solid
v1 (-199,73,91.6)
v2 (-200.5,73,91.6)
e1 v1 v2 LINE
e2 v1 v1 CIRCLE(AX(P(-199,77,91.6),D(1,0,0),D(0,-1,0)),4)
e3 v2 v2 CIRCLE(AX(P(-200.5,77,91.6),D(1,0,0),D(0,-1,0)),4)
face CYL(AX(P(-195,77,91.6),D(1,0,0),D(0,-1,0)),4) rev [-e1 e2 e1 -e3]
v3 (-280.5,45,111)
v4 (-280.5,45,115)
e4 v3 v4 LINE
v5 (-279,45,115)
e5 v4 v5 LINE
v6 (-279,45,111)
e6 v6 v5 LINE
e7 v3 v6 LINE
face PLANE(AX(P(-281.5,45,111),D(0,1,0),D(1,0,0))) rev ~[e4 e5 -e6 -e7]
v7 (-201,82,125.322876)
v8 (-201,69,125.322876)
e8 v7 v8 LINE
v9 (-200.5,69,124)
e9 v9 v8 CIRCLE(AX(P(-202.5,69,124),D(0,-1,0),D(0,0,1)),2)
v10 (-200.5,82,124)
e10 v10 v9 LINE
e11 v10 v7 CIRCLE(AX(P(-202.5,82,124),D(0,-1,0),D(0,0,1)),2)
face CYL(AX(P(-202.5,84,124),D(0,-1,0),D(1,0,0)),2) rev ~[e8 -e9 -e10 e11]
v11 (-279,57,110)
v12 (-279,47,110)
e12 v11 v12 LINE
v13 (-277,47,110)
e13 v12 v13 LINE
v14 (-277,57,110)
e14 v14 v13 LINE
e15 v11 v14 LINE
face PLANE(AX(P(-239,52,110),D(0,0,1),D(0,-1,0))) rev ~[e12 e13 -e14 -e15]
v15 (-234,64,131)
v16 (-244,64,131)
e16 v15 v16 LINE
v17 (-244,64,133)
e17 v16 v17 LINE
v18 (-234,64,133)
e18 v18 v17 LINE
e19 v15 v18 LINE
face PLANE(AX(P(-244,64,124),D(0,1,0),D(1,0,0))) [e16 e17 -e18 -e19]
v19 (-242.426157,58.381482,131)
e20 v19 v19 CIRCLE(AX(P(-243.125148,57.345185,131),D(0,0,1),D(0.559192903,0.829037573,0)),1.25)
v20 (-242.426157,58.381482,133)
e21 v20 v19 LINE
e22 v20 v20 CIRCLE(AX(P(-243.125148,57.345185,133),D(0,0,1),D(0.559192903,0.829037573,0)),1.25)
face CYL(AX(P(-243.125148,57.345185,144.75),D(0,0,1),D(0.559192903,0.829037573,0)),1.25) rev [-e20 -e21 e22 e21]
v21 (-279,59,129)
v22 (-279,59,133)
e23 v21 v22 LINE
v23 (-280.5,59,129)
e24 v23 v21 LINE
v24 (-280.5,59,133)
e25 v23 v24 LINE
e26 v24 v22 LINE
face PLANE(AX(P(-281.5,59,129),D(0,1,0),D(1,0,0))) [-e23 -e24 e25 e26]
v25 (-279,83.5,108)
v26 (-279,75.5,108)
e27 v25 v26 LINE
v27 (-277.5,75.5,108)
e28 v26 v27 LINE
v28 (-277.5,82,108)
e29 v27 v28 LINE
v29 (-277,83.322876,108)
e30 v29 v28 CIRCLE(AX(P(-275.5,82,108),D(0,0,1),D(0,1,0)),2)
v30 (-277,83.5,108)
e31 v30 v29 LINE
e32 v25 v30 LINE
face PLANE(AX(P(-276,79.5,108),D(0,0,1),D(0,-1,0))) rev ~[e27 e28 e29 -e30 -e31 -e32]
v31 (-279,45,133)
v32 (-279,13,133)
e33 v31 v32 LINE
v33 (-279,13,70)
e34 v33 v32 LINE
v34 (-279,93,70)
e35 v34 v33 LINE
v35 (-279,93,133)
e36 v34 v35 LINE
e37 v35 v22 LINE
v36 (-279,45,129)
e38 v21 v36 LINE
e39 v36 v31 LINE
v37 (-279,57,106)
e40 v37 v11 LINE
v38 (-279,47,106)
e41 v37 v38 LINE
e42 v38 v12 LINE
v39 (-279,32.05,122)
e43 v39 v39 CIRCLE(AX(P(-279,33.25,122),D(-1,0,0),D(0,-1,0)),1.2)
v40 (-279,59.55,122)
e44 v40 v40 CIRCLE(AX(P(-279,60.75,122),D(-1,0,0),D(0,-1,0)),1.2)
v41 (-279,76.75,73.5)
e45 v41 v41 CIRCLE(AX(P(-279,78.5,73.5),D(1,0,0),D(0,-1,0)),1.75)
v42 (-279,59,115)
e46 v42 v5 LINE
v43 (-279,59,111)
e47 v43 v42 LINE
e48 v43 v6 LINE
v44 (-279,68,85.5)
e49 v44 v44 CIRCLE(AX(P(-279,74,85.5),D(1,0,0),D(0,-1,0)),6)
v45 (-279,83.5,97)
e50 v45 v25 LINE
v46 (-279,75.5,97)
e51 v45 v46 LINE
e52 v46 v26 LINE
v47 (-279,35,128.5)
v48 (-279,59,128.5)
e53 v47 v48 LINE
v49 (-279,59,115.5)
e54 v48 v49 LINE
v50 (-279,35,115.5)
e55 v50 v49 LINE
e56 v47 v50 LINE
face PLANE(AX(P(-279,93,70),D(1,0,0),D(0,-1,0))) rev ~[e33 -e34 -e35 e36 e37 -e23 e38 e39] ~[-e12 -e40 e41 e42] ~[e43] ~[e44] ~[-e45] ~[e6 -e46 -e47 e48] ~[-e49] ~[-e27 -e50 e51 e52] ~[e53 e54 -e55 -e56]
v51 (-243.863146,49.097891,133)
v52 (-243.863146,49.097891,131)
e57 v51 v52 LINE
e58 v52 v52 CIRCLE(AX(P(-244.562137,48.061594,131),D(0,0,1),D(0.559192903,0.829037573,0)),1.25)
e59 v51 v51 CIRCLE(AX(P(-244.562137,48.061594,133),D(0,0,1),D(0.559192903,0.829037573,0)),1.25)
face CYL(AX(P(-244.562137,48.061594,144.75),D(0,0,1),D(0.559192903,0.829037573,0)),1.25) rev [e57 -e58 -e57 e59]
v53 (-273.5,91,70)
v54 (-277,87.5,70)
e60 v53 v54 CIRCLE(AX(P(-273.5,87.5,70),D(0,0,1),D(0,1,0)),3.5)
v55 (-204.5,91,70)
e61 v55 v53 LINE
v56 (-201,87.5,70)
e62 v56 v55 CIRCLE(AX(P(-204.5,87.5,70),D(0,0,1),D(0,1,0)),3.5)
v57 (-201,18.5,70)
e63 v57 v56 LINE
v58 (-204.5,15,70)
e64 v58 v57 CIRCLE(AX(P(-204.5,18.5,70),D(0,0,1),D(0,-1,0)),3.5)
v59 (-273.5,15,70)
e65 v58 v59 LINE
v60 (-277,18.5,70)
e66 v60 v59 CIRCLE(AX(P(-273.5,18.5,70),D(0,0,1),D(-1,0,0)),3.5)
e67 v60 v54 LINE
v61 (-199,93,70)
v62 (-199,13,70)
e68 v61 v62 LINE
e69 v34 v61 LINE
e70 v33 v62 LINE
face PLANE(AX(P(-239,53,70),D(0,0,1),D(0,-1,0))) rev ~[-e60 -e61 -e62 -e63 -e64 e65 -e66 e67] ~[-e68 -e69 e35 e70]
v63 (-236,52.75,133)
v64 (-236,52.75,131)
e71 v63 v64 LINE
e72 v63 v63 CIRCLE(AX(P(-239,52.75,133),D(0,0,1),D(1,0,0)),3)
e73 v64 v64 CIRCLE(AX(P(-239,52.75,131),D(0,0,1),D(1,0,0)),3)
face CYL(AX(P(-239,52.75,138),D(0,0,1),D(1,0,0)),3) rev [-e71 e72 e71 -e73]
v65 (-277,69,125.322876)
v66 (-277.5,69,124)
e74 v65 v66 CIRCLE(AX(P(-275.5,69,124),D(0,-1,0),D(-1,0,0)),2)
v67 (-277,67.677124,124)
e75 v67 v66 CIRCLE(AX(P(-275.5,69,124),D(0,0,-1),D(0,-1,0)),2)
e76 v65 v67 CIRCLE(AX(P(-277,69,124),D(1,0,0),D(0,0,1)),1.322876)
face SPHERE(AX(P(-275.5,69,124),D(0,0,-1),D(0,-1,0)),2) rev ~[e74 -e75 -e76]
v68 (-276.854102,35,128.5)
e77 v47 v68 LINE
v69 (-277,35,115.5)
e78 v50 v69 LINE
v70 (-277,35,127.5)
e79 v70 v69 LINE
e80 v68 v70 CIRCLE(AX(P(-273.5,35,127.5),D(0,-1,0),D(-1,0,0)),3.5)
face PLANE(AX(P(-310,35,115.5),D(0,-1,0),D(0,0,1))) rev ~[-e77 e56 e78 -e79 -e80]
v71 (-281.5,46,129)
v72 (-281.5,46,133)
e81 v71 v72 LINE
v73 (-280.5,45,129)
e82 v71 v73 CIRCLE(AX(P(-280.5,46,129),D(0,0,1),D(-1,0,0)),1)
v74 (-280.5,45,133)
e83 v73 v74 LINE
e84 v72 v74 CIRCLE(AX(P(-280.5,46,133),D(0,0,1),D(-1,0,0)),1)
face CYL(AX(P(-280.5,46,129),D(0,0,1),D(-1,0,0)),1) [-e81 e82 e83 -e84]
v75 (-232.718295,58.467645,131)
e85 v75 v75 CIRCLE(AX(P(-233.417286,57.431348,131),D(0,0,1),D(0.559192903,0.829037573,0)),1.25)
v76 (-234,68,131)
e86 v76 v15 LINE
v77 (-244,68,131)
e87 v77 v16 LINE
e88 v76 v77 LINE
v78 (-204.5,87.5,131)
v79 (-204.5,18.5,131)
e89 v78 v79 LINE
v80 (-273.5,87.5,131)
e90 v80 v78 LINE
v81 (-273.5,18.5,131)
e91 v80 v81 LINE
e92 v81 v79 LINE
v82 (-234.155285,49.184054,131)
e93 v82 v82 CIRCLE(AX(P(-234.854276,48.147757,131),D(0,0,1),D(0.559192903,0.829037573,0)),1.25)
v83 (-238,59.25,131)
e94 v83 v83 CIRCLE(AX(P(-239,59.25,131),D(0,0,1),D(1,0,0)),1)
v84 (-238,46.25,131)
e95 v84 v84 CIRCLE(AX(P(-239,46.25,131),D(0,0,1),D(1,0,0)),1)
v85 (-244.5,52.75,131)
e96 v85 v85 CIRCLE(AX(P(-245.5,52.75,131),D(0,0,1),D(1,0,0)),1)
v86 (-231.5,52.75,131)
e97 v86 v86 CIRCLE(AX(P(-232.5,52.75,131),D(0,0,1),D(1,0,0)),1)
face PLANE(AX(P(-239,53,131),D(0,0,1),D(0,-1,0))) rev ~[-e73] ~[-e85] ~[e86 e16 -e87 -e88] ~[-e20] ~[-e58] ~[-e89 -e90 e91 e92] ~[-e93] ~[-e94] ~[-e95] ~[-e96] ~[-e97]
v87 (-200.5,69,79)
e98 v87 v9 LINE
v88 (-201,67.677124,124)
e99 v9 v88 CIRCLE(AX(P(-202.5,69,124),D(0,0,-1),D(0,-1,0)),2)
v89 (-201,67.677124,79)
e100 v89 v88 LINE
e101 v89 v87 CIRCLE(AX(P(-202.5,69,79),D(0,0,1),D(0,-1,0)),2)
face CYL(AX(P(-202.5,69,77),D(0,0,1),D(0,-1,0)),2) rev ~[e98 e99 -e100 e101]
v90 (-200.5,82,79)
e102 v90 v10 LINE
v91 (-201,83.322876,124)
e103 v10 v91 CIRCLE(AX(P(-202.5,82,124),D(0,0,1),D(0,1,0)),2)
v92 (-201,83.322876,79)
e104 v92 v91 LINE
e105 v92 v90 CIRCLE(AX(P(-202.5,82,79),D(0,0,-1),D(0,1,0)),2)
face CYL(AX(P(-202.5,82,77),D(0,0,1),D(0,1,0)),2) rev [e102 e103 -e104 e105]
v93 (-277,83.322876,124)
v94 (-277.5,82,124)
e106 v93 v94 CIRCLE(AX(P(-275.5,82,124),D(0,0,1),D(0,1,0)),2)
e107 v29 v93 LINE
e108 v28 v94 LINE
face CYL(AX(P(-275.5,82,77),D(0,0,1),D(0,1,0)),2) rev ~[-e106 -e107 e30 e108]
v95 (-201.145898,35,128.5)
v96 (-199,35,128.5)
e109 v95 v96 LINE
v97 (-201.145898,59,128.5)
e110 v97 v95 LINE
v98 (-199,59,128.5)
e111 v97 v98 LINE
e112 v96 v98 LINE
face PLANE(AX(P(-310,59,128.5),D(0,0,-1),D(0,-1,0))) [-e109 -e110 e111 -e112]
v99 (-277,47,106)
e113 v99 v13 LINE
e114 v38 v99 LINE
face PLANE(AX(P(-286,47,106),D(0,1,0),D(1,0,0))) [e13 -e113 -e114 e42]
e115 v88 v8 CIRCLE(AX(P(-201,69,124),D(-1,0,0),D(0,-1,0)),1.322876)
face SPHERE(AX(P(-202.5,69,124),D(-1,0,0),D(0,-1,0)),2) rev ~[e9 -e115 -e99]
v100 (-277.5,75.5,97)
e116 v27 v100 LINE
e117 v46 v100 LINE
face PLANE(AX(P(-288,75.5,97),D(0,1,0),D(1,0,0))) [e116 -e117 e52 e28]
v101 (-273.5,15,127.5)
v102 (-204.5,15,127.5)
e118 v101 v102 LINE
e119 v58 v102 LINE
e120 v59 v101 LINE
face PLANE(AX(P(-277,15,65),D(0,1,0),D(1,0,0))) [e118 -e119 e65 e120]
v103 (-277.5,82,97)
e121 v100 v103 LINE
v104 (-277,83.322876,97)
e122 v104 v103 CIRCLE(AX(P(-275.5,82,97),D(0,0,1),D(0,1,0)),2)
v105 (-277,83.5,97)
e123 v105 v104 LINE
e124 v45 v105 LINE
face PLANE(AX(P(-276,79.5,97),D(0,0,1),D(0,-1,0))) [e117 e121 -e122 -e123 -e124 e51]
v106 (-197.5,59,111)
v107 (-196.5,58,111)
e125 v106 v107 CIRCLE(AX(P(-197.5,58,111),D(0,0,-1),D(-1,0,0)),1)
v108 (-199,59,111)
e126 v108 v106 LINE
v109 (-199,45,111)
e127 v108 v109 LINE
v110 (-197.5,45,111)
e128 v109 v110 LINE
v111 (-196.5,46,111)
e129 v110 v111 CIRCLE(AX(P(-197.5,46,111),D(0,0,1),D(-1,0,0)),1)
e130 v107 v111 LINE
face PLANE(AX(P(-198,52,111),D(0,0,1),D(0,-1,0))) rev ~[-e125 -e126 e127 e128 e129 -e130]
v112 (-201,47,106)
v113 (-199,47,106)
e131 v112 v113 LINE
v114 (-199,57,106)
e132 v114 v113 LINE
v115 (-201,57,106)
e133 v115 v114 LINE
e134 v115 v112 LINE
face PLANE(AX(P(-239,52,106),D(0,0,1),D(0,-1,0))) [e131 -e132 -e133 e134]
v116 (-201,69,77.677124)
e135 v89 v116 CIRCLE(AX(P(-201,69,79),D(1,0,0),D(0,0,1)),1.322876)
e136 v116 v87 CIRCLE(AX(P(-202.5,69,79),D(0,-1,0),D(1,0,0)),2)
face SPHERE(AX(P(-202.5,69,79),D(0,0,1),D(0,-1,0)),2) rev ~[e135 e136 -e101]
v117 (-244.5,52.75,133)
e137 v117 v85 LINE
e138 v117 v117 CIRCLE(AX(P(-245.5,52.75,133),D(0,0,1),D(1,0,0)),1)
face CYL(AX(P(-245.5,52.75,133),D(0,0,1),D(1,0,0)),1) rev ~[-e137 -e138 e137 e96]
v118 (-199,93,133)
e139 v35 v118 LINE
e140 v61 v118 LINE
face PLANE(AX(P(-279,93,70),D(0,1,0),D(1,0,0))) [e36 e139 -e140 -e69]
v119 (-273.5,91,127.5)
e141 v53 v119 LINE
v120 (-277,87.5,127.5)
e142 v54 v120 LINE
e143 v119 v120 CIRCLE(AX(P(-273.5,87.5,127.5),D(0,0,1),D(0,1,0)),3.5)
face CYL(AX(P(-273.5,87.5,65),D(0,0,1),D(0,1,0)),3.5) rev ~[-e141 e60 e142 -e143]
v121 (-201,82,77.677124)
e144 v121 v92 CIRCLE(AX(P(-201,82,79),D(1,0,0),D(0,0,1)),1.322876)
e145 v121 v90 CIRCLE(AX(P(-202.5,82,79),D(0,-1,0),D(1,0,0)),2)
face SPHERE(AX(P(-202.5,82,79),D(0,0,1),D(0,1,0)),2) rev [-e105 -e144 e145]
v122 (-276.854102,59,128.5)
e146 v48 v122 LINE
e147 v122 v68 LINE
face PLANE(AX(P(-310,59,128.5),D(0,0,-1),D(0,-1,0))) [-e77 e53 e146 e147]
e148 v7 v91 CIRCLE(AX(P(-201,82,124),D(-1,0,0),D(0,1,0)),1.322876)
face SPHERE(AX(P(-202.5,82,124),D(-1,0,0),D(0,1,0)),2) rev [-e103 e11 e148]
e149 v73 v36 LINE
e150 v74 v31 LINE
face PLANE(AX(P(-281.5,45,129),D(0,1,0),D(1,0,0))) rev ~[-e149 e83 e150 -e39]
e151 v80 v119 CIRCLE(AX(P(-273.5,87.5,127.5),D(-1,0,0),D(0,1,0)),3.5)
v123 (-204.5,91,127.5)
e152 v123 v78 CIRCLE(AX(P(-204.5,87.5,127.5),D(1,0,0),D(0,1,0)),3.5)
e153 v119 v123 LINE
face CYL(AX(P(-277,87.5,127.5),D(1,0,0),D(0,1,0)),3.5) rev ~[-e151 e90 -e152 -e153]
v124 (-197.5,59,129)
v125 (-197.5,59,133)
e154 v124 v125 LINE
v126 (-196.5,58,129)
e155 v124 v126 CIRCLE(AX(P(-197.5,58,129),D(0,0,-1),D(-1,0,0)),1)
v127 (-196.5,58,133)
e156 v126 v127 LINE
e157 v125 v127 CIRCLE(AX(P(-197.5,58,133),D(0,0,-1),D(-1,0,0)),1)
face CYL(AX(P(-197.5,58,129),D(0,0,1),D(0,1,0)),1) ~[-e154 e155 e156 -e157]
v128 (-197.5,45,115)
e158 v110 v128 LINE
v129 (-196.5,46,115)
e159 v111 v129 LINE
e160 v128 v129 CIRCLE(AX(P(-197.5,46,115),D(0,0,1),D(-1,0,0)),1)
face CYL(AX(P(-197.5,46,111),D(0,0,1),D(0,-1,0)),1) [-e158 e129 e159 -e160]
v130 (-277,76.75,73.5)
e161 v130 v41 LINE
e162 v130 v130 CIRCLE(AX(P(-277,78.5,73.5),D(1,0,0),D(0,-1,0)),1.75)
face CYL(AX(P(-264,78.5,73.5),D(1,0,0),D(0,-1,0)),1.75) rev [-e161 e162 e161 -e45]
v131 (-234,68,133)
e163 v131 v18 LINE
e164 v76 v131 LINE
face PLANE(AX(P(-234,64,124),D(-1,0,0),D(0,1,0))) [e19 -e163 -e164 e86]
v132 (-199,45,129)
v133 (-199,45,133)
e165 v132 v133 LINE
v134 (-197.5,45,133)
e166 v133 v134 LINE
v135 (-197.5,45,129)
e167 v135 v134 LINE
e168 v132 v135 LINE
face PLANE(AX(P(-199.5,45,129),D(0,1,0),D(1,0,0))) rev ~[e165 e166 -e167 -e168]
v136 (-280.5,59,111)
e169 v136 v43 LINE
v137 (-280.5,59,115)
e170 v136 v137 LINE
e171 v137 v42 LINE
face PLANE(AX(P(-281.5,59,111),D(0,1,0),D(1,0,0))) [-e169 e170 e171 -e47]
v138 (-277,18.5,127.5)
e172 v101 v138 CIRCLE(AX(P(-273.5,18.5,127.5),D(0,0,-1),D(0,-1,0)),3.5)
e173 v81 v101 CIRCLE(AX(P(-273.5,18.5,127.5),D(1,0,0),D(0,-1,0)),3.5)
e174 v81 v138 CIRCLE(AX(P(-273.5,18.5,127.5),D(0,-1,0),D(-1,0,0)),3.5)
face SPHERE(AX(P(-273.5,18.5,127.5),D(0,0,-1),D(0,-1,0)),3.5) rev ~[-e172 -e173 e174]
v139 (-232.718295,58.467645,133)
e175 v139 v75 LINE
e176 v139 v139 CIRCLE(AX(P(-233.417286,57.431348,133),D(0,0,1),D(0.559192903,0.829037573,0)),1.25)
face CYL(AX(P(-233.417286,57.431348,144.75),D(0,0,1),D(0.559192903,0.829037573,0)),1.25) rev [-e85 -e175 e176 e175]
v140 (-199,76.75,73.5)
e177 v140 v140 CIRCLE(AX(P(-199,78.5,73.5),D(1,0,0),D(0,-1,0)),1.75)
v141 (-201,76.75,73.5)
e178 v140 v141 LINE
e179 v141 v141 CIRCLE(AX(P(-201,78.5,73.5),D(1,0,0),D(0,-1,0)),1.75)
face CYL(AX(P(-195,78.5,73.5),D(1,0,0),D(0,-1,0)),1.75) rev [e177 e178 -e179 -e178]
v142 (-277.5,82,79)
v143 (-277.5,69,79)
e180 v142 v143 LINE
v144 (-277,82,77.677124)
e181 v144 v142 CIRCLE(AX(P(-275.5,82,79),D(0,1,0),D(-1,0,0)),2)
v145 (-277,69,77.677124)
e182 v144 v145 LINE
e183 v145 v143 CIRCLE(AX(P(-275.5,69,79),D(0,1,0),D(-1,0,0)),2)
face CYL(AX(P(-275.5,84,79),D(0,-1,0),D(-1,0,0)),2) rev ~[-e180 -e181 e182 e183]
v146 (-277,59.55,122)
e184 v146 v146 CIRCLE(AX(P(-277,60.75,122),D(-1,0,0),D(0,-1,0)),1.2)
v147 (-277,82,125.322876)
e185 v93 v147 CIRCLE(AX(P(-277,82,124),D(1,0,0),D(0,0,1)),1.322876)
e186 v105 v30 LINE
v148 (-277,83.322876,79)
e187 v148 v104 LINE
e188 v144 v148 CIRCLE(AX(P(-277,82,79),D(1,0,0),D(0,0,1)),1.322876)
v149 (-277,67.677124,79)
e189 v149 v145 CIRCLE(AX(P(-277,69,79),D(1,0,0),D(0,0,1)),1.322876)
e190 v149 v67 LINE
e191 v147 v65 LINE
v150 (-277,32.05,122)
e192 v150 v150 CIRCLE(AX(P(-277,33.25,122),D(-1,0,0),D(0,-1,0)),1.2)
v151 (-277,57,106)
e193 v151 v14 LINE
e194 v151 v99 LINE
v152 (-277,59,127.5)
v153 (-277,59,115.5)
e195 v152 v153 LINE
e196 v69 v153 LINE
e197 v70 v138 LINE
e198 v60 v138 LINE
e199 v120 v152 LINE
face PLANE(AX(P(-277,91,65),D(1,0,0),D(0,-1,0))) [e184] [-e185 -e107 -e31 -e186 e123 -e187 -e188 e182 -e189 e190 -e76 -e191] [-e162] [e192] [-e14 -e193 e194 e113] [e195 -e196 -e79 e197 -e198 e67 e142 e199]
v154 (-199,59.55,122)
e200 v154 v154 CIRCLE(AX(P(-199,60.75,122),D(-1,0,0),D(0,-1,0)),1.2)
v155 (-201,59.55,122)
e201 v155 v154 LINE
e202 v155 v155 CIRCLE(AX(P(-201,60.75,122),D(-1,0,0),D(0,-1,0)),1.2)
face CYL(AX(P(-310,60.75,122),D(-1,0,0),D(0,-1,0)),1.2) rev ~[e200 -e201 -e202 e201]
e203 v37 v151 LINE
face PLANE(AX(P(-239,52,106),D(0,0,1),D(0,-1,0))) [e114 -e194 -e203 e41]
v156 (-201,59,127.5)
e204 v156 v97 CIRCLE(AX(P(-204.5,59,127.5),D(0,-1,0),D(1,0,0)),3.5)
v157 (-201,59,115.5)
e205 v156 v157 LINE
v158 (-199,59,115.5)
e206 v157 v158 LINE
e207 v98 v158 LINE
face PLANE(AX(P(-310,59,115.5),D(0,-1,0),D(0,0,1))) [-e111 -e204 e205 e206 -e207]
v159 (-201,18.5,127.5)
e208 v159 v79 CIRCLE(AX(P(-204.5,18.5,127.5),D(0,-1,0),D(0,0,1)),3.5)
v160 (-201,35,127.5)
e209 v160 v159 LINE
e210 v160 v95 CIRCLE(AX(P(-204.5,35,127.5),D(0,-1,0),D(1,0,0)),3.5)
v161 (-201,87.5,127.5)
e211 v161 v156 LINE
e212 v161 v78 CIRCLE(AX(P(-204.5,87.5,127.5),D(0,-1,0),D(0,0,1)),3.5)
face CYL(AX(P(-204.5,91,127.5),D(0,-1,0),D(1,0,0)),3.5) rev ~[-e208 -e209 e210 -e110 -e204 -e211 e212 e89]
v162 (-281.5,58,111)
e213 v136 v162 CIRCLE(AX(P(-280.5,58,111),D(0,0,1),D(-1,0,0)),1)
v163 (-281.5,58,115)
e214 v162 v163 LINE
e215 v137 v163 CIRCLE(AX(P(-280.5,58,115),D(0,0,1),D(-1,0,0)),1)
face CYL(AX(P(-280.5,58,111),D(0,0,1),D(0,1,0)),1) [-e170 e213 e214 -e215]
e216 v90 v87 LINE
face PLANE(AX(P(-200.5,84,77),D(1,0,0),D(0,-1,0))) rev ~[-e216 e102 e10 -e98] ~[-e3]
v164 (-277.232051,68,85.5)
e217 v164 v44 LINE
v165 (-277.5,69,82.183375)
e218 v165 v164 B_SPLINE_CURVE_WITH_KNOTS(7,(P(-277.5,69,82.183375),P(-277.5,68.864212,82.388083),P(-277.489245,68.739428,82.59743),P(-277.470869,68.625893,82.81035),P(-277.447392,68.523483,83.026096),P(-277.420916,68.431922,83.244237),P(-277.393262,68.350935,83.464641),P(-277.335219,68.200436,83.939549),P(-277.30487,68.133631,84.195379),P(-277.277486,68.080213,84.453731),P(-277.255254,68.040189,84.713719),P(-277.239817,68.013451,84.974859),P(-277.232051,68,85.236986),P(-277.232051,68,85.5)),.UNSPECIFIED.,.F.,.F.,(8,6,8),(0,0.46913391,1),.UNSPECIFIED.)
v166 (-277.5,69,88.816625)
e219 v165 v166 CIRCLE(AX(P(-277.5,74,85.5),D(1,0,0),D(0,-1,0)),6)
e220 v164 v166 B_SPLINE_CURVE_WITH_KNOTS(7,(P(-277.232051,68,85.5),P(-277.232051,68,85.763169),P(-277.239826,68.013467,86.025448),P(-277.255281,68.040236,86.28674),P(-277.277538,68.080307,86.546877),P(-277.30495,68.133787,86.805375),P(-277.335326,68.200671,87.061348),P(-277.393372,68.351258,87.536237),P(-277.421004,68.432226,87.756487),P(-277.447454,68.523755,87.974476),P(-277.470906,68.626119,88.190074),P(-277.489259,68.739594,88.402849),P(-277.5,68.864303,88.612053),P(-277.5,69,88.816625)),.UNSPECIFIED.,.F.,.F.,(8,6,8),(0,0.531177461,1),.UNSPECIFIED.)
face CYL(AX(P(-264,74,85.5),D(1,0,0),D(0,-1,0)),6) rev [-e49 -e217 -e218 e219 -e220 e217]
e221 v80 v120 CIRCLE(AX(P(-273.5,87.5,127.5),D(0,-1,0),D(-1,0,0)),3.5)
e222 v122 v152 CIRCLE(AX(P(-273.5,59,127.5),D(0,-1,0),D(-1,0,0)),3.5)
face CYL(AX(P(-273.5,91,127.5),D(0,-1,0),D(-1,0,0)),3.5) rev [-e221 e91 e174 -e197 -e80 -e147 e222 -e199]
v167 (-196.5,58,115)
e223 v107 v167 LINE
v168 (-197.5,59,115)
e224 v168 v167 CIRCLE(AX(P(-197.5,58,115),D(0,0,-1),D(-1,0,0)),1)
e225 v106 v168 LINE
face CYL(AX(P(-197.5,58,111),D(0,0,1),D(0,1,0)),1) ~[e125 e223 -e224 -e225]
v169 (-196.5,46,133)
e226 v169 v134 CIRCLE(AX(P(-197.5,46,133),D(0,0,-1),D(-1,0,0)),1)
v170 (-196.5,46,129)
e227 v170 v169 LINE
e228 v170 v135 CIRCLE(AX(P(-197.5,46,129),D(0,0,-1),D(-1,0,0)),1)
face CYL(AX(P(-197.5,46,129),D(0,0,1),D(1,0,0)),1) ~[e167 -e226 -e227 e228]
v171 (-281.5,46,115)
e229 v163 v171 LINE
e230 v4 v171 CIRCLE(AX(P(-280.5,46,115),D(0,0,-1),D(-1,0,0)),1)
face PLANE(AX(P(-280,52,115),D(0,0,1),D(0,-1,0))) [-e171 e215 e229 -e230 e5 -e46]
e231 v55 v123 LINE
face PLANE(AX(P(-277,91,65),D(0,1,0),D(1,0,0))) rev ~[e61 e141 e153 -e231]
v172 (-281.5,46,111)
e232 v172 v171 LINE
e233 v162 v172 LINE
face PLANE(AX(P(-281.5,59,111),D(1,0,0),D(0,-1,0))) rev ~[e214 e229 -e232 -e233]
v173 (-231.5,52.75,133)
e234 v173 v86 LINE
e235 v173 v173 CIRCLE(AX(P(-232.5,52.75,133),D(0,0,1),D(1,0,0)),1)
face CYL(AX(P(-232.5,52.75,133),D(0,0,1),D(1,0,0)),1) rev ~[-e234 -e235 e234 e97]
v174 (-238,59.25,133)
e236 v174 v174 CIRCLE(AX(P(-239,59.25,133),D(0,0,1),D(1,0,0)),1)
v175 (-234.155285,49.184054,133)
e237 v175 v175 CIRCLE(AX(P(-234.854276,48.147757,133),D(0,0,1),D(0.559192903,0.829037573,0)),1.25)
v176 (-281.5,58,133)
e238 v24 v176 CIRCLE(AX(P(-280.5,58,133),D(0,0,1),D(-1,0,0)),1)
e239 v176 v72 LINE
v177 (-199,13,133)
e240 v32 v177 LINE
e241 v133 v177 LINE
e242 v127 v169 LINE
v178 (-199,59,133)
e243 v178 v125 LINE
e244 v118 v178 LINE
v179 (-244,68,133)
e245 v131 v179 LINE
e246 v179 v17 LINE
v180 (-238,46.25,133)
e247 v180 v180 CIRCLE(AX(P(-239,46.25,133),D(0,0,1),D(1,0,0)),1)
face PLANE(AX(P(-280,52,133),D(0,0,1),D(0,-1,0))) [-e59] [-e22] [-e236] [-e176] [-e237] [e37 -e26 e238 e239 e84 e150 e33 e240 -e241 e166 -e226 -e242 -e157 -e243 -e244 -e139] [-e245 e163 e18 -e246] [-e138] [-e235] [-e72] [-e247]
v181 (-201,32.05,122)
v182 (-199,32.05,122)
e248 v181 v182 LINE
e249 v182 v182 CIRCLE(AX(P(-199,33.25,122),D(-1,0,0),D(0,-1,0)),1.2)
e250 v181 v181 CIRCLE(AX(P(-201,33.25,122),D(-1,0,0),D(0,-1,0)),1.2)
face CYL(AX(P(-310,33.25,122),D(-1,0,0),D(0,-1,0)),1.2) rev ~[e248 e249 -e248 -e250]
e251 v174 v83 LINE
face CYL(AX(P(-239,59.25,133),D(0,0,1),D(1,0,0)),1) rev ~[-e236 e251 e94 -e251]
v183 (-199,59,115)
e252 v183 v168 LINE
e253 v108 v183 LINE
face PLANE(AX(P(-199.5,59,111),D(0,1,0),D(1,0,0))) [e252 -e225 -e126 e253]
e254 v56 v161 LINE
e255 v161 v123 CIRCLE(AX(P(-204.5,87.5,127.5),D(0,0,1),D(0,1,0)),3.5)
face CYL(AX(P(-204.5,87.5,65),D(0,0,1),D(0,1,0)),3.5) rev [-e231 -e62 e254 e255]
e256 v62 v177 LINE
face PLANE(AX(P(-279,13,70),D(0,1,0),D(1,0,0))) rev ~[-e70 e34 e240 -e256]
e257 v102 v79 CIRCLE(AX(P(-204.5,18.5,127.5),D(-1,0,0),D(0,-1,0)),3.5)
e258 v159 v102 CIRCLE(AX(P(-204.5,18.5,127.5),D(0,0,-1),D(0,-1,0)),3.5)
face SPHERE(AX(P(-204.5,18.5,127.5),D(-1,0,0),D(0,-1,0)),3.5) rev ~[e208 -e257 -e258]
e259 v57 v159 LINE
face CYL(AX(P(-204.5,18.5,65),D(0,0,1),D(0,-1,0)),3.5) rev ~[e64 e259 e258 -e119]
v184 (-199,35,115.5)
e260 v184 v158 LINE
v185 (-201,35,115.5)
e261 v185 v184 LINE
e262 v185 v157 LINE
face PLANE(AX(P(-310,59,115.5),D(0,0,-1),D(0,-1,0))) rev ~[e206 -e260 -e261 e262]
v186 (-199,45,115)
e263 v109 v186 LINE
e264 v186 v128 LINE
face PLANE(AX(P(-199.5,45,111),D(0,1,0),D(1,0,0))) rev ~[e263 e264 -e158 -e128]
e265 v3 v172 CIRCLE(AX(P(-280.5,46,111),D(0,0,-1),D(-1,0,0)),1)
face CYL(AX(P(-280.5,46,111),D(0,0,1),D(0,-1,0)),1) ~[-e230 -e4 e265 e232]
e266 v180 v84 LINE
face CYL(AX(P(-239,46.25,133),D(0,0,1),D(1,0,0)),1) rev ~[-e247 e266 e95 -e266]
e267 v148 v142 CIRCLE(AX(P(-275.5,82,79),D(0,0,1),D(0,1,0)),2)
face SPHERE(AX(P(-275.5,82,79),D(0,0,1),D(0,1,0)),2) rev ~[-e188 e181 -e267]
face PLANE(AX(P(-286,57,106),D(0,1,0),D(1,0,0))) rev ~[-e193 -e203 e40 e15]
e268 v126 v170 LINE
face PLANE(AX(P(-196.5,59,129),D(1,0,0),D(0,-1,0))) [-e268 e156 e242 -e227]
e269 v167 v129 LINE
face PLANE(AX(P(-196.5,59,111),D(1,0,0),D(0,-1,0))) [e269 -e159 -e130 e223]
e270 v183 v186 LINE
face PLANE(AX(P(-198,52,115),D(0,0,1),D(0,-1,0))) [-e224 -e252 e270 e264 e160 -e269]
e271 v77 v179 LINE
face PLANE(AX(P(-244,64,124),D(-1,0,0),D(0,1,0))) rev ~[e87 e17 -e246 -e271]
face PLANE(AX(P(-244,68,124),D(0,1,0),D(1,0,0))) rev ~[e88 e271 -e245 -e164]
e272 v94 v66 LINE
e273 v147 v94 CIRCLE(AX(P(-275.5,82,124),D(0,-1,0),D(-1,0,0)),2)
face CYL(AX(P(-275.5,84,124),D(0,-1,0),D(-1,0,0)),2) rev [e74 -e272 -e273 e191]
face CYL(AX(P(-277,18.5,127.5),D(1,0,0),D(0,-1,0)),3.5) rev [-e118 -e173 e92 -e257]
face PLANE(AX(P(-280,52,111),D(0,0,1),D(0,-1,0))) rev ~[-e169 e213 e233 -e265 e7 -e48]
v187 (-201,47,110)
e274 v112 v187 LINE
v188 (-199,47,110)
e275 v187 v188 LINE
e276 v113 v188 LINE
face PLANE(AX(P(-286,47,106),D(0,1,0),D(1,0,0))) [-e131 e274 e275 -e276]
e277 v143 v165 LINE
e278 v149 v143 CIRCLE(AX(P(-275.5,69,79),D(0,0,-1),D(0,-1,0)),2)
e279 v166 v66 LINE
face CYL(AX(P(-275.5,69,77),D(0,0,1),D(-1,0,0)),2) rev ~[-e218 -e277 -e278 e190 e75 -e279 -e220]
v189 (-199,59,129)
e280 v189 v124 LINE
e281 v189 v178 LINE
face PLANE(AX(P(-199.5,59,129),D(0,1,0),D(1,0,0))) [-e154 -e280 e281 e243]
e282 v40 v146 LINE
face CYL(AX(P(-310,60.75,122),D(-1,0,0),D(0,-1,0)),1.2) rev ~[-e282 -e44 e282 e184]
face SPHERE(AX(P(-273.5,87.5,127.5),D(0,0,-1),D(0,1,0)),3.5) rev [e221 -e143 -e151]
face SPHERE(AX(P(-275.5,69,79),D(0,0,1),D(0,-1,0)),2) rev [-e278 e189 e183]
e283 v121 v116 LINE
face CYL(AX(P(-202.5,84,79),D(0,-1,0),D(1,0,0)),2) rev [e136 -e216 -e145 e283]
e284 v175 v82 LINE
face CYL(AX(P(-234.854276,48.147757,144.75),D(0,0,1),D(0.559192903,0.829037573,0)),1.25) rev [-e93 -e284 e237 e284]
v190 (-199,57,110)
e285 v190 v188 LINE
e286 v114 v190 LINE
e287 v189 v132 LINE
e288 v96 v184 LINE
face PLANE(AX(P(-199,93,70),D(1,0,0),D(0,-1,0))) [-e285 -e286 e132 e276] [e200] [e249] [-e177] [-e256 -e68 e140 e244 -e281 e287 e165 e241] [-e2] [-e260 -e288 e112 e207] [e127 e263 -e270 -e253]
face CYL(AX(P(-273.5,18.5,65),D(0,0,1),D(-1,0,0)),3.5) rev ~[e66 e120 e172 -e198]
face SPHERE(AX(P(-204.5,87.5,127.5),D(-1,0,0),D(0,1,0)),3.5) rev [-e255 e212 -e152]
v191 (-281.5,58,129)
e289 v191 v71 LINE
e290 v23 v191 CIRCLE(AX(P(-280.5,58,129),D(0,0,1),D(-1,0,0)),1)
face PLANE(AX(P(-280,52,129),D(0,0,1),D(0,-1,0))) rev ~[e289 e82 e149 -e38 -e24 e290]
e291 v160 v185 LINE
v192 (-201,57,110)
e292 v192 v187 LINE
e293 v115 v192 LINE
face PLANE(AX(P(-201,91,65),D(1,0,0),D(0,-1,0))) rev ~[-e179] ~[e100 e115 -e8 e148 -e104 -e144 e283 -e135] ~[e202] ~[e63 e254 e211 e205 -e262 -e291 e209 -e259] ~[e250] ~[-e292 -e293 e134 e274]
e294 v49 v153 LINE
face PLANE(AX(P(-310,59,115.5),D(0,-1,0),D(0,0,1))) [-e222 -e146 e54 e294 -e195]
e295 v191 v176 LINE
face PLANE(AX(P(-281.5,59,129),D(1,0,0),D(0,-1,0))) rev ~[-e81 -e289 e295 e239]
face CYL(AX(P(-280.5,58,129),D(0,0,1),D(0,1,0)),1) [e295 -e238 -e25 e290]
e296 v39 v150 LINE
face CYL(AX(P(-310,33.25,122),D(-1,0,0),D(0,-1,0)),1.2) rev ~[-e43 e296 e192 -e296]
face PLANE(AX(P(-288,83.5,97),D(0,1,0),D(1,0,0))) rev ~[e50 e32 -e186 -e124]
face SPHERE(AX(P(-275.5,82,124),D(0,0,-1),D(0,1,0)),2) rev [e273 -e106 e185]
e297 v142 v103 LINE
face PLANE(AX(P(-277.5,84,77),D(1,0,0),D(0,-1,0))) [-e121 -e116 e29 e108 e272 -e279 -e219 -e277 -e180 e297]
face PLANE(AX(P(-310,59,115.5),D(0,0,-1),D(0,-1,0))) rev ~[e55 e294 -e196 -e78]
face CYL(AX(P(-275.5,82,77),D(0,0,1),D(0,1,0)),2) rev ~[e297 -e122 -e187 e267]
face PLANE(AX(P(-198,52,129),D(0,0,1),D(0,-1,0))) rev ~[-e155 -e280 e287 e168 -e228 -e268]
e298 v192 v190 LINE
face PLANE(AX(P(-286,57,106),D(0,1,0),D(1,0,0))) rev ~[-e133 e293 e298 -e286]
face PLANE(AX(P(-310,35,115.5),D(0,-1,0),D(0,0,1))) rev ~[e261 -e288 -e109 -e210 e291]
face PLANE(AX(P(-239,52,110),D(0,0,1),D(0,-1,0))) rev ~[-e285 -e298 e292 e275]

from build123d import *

# Parameters (mm, degrees)
BOX066_W                  = 10
BOX066_H                  = 4
BOX066_DEPTH              = 10
CYLINDER084_R             = 3
CYLINDER084_DEPTH         = 13
CYLINDER084_ROLL_ANGLE    = 90
CYLINDER087_R             = 1.25
CYLINDER087_DEPTH         = 22
CYLINDER087_PITCH_ANGLE   = 90
CYLINDER088_R             = 1.25
CYLINDER088_DEPTH         = 22
CYLINDER088_PITCH_ANGLE   = 90
CYLINDER086_R             = 1.25
CYLINDER086_DEPTH         = 22
CYLINDER086_PITCH_ANGLE   = 90
CYLINDER085_R             = 1.25
CYLINDER085_DEPTH         = 22
CYLINDER085_PITCH_ANGLE   = 90
FUSION063_ROLL_ANGLE      = 34
FUSION063_PLACEMENT_ANGLE = -90
FUSION064_ROLL_ANGLE      = 90
BOX065_W                  = 10
BOX065_H                  = 94
BOX065_DEPTH              = 4
BOX062_W                  = 14
BOX062_H                  = 3
BOX062_DEPTH              = 4
BOX061_W                  = 14
BOX061_H                  = 3
BOX061_DEPTH              = 4
BOX063_W                  = 14
BOX063_H                  = 3
BOX063_DEPTH              = 4
BOX064_W                  = 14
BOX064_H                  = 3
BOX064_DEPTH              = 4
SKETCH017_R               = 1.2
SKETCH017_W               = 24
SKETCH017_H               = 13
PAD012_DEPTH              = 140
CYLINDER080_R             = 6
CYLINDER080_DEPTH         = 31
CYLINDER080_ROLL_ANGLE    = 90
CYLINDER078_R             = 1.75
CYLINDER078_DEPTH         = 31
CYLINDER078_ROLL_ANGLE    = 90
BOX059_W                  = 17
BOX059_H                  = 77
BOX059_DEPTH              = 49
FILLET018013005_R         = 2
CYLINDER083_R             = 4
CYLINDER083_DEPTH         = 31
CYLINDER083_ROLL_ANGLE    = 90
CYLINDER079_R             = 1.75
CYLINDER079_DEPTH         = 31
CYLINDER079_ROLL_ANGLE    = 90
BOX058_W                  = 8
BOX058_H                  = 24
BOX058_DEPTH              = 11
BOX057_W                  = 76
BOX057_H                  = 76
BOX057_DEPTH              = 66
FILLET018013003_R         = 3.5
BOX060_W                  = 80
BOX060_H                  = 80
BOX060_DEPTH              = 63
FILLET018013006_R         = 1
CLONE024_PLACEMENT_ANGLE  = -90
SKETCH021_R               = 1
POCKET017_DEPTH           = 2


with BuildPart() as cubo012:
    # Box066 → Box066 (new body)
    with BuildSketch(Plane(origin=(-244, 64, 124), x_dir=(1, 0, 0), z_dir=(0, 0, 1))):
        with Locations((5, 2)):
            Rectangle(BOX066_W, BOX066_H)
    extrude(amount=BOX066_DEPTH)


with BuildPart() as cilindro019:
    # Cylinder084 → Cylinder084 (new body)
    with BuildSketch(Plane.XY):
        Circle(CYLINDER084_R)
    extrude(amount=CYLINDER084_DEPTH)


with BuildPart() as cilindro019_1:
    # Cylinder084 roll: moved
    add(cilindro019.part.rotate(Axis((0, 0, 0), (1, 0, 0)), CYLINDER084_ROLL_ANGLE))


with BuildPart() as cilindro019_2:
    # Cylinder084 placement: moved
    add(cilindro019_1.part.moved(Location((17.25, -6, 120))))


with BuildPart() as cilindro022:
    # Cylinder087 → Cylinder087 (new body)
    with BuildSketch(Plane.XY):
        Circle(CYLINDER087_R)
    extrude(amount=CYLINDER087_DEPTH)


with BuildPart() as cilindro022_1:
    # Cylinder087 pitch: moved
    add(cilindro022.part.rotate(Axis((0, 0, 0), (0, 1, 0)), CYLINDER087_PITCH_ANGLE))


with BuildPart() as cilindro022_2:
    # Cylinder087 placement: moved
    add(cilindro022_1.part.moved(Location((20.25, -38, 124.25))))


with BuildPart() as cilindro023:
    # Cylinder088 → Cylinder088 (new body)
    with BuildSketch(Plane.XY):
        Circle(CYLINDER088_R)
    extrude(amount=CYLINDER088_DEPTH)


with BuildPart() as cilindro023_1:
    # Cylinder088 pitch: moved
    add(cilindro023.part.rotate(Axis((0, 0, 0), (0, 1, 0)), CYLINDER088_PITCH_ANGLE))


with BuildPart() as cilindro023_2:
    # Cylinder088 placement: moved
    add(cilindro023_1.part.moved(Location((20.25, -26, 127.25))))


with BuildPart() as cilindro021:
    # Cylinder086 → Cylinder086 (new body)
    with BuildSketch(Plane.XY):
        Circle(CYLINDER086_R)
    extrude(amount=CYLINDER086_DEPTH)


with BuildPart() as cilindro021_1:
    # Cylinder086 pitch: moved
    add(cilindro021.part.rotate(Axis((0, 0, 0), (0, 1, 0)), CYLINDER086_PITCH_ANGLE))


with BuildPart() as cilindro021_2:
    # Cylinder086 placement: moved
    add(cilindro021_1.part.moved(Location((20.25, -30, 118.75))))


with BuildPart() as fusion064:
    # Cylinder085 → Cylinder085 (new body)
    with BuildSketch(Plane.XY):
        Circle(CYLINDER085_R)
    extrude(amount=CYLINDER085_DEPTH)


with BuildPart() as fusion064_1:
    # Cylinder085 pitch: moved
    add(fusion064.part.rotate(Axis((0, 0, 0), (0, 1, 0)), CYLINDER085_PITCH_ANGLE))


with BuildPart() as fusion064_2:
    # Cylinder085 placement: moved
    add(fusion064_1.part.moved(Location((20.25, -34, 132.75))))

    # Fusion063: union Cilindro022, Cilindro023, Cilindro021
    add(cilindro022_2.part)
    add(cilindro023_2.part)
    add(cilindro021_2.part)


with BuildPart() as fusion064_3:
    # Fusion063 roll: moved
    add(fusion064_2.part.rotate(Axis((0, 0, 0), (1, 0, 0)), FUSION063_ROLL_ANGLE))


with BuildPart() as fusion064_4:
    # Fusion063 placement: moved
    add(fusion064_3.part.moved(Location((114.107998, 21, 33.646227))).rotate(Axis((114.107998, 21, 33.646227), (0, 0, 1)), FUSION063_PLACEMENT_ANGLE))

    # Fusion064: union Cilindro019
    add(cilindro019_2.part)


with BuildPart() as fusion064_5:
    # Fusion064 roll: moved
    add(fusion064_4.part.rotate(Axis((0, 0, 0), (1, 0, 0)), FUSION064_ROLL_ANGLE))


with BuildPart() as fusion064_6:
    # Fusion064 placement: moved
    add(fusion064_5.part.moved(Location((-256.25, 172.75, 144))))


with BuildPart() as cubo:
    # Box065 → Box065 (new body)
    with BuildSketch(Plane(origin=(13, -11, 104), x_dir=(1, 0, 0), z_dir=(0, 0, 1))):
        with Locations((5, 47)):
            Rectangle(BOX065_W, BOX065_H)
    extrude(amount=BOX065_DEPTH)


with BuildPart() as cubo009:
    # Box062 → Box062 (new body)
    with BuildSketch(Plane(origin=(11, 75.5, 127), x_dir=(1, 0, 0), z_dir=(0, 0, 1))):
        with Locations((7, 1.5)):
            Rectangle(BOX062_W, BOX062_H)
    extrude(amount=BOX062_DEPTH)


with BuildPart() as cubo008:
    # Box061 → Box061 (new body)
    with BuildSketch(Plane(origin=(11, 75.5, 109), x_dir=(1, 0, 0), z_dir=(0, 0, 1))):
        with Locations((7, 1.5)):
            Rectangle(BOX061_W, BOX061_H)
    extrude(amount=BOX061_DEPTH)


with BuildPart() as cubo010:
    # Box063 → Box063 (new body)
    with BuildSketch(Plane(origin=(11, -6.5, 109), x_dir=(1, 0, 0), z_dir=(0, 0, 1))):
        with Locations((7, 1.5)):
            Rectangle(BOX063_W, BOX063_H)
    extrude(amount=BOX063_DEPTH)


with BuildPart() as cubo011:
    # Box064 → Box064 (new body)
    with BuildSketch(Plane(origin=(11, -6.5, 127), x_dir=(1, 0, 0), z_dir=(0, 0, 1))):
        with Locations((7, 1.5)):
            Rectangle(BOX064_W, BOX064_H)
    extrude(amount=BOX064_DEPTH)


with BuildPart() as pad012:
    # Sketch017 → Pad012 (new body)
    with BuildSketch(Plane(origin=(-0.25, -35, 0), x_dir=(1, 0, 0), z_dir=(0, -1, 0))):
        with Locations((37, 120)):
            Circle(SKETCH017_R)
        with Locations((9.5, 120)):
            Circle(SKETCH017_R)
        with Locations((23.25, 120)):
            Rectangle(SKETCH017_W, SKETCH017_H)
    extrude(amount=-PAD012_DEPTH)


with BuildPart() as cylinder107:
    # Cylinder080 → Cylinder080 (new body)
    with BuildSketch(Plane.XY):
        Circle(CYLINDER080_R)
    extrude(amount=CYLINDER080_DEPTH)


with BuildPart() as cylinder107_1:
    # Cylinder080 roll: moved
    add(cylinder107.part.rotate(Axis((0, 0, 0), (1, 0, 0)), CYLINDER080_ROLL_ANGLE))


with BuildPart() as cylinder107_2:
    # Cylinder080 placement: moved
    add(cylinder107_1.part.moved(Location((-4, 11, 83.5))))


with BuildPart() as cylinder105:
    # Cylinder078 → Cylinder078 (new body)
    with BuildSketch(Plane.XY):
        Circle(CYLINDER078_R)
    extrude(amount=CYLINDER078_DEPTH)


with BuildPart() as cylinder105_1:
    # Cylinder078 roll: moved
    add(cylinder105.part.rotate(Axis((0, 0, 0), (1, 0, 0)), CYLINDER078_ROLL_ANGLE))


with BuildPart() as cylinder105_2:
    # Cylinder078 placement: moved
    add(cylinder105_1.part.moved(Location((-8.5, 11, 71.5))))


with BuildPart() as fillet018013005:
    # Box059 → Box059 (new body)
    with BuildSketch(Plane(origin=(-14, -2.5, 75), x_dir=(1, 0, 0), z_dir=(0, 0, 1))):
        with Locations((8.5, 38.5)):
            Rectangle(BOX059_W, BOX059_H)
    extrude(amount=BOX059_DEPTH)

    # Fillet018013005
    fillet018013005_edges = [fillet018013005.edges().sort_by_distance(p)[0] for p in [
        (-14, -2.5, 99.5),
        (-14, 36, 124),
        (-14, 74.5, 99.5),
        (-14, 36, 75),
        (3, -2.5, 99.5),
        (3, 36, 124),
        (3, 74.5, 99.5),
        (3, 36, 75),
        (-5.5, -2.5, 75),
        (-5.5, -2.5, 124),
        (-5.5, 74.5, 75),
        (-5.5, 74.5, 124),
    ]]
    fillet(fillet018013005_edges, radius=FILLET018013005_R)


with BuildPart() as cylinder108:
    # Cylinder083 → Cylinder083 (new body)
    with BuildSketch(Plane.XY):
        Circle(CYLINDER083_R)
    extrude(amount=CYLINDER083_DEPTH)


with BuildPart() as cylinder108_1:
    # Cylinder083 roll: moved
    add(cylinder108.part.rotate(Axis((0, 0, 0), (1, 0, 0)), CYLINDER083_ROLL_ANGLE))


with BuildPart() as cylinder108_2:
    # Cylinder083 placement: moved
    add(cylinder108_1.part.moved(Location((-7, 80, 89.6))))


with BuildPart() as cylinder106:
    # Cylinder079 → Cylinder079 (new body)
    with BuildSketch(Plane.XY):
        Circle(CYLINDER079_R)
    extrude(amount=CYLINDER079_DEPTH)


with BuildPart() as cylinder106_1:
    # Cylinder079 roll: moved
    add(cylinder106.part.rotate(Axis((0, 0, 0), (1, 0, 0)), CYLINDER079_ROLL_ANGLE))


with BuildPart() as cylinder106_2:
    # Cylinder079 placement: moved
    add(cylinder106_1.part.moved(Location((-8.5, 80, 71.5))))


with BuildPart() as fusion061:
    # Box058 → Box058 (new body)
    with BuildSketch(Plane(origin=(-13.5, -13, 95), x_dir=(1, 0, 0), z_dir=(0, 0, 1))):
        with Locations((4, 12)):
            Rectangle(BOX058_W, BOX058_H)
    extrude(amount=BOX058_DEPTH)

    # Fusion061: union Cylinder107, Cylinder105, Fillet018013005, Cylinder108, Cylinder106
    add(cylinder107_2.part)
    add(cylinder105_2.part)
    add(fillet018013005.part)
    add(cylinder108_2.part)
    add(cylinder106_2.part)


with BuildPart() as fillet018013003:
    # Box057 → Box057 (new body)
    with BuildSketch(Plane(origin=(-21, -2, 87), x_dir=(1, 0, 0), z_dir=(0, 0, 1))):
        with Locations((38, 38)):
            Rectangle(BOX057_W, BOX057_H)
    extrude(amount=BOX057_DEPTH)

    # Fillet018013003
    fillet018013003_edges = [fillet018013003.edges().sort_by_distance(p)[0] for p in [
        (-21, -2, 120),
        (-21, 36, 153),
        (-21, 74, 120),
        (55, -2, 120),
        (55, 36, 153),
        (55, 74, 120),
        (17, -2, 153),
        (17, 74, 153),
    ]]
    fillet(fillet018013003_edges, radius=FILLET018013003_R)


with BuildPart() as fillet018013003_1:
    # Fillet018013003 placement: moved
    add(fillet018013003.part.moved(Location((0, 0, -24))))


with BuildPart() as body_more_holes:
    # Box060 → Box060 (new body)
    with BuildSketch(Plane(origin=(-23, -4, 68), x_dir=(1, 0, 0), z_dir=(0, 0, 1))):
        with Locations((40, 40)):
            Rectangle(BOX060_W, BOX060_H)
    extrude(amount=BOX060_DEPTH)

    # Cut103: cut Fillet018013003
    add(fillet018013003_1.part, mode=Mode.SUBTRACT)

    # Cut104: cut Fusion061
    add(fusion061.part, mode=Mode.SUBTRACT)

    # Cut105: cut Pad012
    add(pad012.part, mode=Mode.SUBTRACT)

    # Fusion062: union Cubo009, Cubo008, Cubo010, Cubo011
    add(cubo009.part)
    add(cubo008.part)
    add(cubo010.part)
    add(cubo011.part)

    # Fillet018013006
    fillet018013006_edges = [body_more_holes.edges().sort_by_distance(p)[0] for p in [
        (25, -6.5, 129),
        (11, -6.5, 129),
        (11, -6.5, 111),
        (25, -6.5, 111),
        (25, 78.5, 129),
        (11, 78.5, 129),
        (25, 78.5, 111),
        (11, 78.5, 111),
    ]]
    fillet(fillet018013006_edges, radius=FILLET018013006_R)

    # Cut107: cut Cubo
    add(cubo.part, mode=Mode.SUBTRACT)


with BuildPart() as body_more_holes_1:
    # Clone024 placement: moved
    add(body_more_holes.part.moved(Location((-275, 70, 2))).rotate(Axis((-275, 70, 2), (0, 0, 1)), CLONE024_PLACEMENT_ANGLE))

    # Cut108: cut Fusion064
    add(fusion064_6.part, mode=Mode.SUBTRACT)

    # Cut109: cut Cubo012
    add(cubo012.part, mode=Mode.SUBTRACT)

    # Sketch021 → Pocket017 (cut)
    with BuildSketch(Plane.XY.offset(133)):
        with Locations((-239, 59.25)):
            Circle(SKETCH021_R)
        with Locations((-232.5, 52.75)):
            Circle(SKETCH021_R)
        with Locations((-239, 46.25)):
            Circle(SKETCH021_R)
        with Locations((-245.5, 52.75)):
            Circle(SKETCH021_R)
    extrude(amount=-POCKET017_DEPTH, mode=Mode.SUBTRACT)


solid = body_more_holes_1.part
